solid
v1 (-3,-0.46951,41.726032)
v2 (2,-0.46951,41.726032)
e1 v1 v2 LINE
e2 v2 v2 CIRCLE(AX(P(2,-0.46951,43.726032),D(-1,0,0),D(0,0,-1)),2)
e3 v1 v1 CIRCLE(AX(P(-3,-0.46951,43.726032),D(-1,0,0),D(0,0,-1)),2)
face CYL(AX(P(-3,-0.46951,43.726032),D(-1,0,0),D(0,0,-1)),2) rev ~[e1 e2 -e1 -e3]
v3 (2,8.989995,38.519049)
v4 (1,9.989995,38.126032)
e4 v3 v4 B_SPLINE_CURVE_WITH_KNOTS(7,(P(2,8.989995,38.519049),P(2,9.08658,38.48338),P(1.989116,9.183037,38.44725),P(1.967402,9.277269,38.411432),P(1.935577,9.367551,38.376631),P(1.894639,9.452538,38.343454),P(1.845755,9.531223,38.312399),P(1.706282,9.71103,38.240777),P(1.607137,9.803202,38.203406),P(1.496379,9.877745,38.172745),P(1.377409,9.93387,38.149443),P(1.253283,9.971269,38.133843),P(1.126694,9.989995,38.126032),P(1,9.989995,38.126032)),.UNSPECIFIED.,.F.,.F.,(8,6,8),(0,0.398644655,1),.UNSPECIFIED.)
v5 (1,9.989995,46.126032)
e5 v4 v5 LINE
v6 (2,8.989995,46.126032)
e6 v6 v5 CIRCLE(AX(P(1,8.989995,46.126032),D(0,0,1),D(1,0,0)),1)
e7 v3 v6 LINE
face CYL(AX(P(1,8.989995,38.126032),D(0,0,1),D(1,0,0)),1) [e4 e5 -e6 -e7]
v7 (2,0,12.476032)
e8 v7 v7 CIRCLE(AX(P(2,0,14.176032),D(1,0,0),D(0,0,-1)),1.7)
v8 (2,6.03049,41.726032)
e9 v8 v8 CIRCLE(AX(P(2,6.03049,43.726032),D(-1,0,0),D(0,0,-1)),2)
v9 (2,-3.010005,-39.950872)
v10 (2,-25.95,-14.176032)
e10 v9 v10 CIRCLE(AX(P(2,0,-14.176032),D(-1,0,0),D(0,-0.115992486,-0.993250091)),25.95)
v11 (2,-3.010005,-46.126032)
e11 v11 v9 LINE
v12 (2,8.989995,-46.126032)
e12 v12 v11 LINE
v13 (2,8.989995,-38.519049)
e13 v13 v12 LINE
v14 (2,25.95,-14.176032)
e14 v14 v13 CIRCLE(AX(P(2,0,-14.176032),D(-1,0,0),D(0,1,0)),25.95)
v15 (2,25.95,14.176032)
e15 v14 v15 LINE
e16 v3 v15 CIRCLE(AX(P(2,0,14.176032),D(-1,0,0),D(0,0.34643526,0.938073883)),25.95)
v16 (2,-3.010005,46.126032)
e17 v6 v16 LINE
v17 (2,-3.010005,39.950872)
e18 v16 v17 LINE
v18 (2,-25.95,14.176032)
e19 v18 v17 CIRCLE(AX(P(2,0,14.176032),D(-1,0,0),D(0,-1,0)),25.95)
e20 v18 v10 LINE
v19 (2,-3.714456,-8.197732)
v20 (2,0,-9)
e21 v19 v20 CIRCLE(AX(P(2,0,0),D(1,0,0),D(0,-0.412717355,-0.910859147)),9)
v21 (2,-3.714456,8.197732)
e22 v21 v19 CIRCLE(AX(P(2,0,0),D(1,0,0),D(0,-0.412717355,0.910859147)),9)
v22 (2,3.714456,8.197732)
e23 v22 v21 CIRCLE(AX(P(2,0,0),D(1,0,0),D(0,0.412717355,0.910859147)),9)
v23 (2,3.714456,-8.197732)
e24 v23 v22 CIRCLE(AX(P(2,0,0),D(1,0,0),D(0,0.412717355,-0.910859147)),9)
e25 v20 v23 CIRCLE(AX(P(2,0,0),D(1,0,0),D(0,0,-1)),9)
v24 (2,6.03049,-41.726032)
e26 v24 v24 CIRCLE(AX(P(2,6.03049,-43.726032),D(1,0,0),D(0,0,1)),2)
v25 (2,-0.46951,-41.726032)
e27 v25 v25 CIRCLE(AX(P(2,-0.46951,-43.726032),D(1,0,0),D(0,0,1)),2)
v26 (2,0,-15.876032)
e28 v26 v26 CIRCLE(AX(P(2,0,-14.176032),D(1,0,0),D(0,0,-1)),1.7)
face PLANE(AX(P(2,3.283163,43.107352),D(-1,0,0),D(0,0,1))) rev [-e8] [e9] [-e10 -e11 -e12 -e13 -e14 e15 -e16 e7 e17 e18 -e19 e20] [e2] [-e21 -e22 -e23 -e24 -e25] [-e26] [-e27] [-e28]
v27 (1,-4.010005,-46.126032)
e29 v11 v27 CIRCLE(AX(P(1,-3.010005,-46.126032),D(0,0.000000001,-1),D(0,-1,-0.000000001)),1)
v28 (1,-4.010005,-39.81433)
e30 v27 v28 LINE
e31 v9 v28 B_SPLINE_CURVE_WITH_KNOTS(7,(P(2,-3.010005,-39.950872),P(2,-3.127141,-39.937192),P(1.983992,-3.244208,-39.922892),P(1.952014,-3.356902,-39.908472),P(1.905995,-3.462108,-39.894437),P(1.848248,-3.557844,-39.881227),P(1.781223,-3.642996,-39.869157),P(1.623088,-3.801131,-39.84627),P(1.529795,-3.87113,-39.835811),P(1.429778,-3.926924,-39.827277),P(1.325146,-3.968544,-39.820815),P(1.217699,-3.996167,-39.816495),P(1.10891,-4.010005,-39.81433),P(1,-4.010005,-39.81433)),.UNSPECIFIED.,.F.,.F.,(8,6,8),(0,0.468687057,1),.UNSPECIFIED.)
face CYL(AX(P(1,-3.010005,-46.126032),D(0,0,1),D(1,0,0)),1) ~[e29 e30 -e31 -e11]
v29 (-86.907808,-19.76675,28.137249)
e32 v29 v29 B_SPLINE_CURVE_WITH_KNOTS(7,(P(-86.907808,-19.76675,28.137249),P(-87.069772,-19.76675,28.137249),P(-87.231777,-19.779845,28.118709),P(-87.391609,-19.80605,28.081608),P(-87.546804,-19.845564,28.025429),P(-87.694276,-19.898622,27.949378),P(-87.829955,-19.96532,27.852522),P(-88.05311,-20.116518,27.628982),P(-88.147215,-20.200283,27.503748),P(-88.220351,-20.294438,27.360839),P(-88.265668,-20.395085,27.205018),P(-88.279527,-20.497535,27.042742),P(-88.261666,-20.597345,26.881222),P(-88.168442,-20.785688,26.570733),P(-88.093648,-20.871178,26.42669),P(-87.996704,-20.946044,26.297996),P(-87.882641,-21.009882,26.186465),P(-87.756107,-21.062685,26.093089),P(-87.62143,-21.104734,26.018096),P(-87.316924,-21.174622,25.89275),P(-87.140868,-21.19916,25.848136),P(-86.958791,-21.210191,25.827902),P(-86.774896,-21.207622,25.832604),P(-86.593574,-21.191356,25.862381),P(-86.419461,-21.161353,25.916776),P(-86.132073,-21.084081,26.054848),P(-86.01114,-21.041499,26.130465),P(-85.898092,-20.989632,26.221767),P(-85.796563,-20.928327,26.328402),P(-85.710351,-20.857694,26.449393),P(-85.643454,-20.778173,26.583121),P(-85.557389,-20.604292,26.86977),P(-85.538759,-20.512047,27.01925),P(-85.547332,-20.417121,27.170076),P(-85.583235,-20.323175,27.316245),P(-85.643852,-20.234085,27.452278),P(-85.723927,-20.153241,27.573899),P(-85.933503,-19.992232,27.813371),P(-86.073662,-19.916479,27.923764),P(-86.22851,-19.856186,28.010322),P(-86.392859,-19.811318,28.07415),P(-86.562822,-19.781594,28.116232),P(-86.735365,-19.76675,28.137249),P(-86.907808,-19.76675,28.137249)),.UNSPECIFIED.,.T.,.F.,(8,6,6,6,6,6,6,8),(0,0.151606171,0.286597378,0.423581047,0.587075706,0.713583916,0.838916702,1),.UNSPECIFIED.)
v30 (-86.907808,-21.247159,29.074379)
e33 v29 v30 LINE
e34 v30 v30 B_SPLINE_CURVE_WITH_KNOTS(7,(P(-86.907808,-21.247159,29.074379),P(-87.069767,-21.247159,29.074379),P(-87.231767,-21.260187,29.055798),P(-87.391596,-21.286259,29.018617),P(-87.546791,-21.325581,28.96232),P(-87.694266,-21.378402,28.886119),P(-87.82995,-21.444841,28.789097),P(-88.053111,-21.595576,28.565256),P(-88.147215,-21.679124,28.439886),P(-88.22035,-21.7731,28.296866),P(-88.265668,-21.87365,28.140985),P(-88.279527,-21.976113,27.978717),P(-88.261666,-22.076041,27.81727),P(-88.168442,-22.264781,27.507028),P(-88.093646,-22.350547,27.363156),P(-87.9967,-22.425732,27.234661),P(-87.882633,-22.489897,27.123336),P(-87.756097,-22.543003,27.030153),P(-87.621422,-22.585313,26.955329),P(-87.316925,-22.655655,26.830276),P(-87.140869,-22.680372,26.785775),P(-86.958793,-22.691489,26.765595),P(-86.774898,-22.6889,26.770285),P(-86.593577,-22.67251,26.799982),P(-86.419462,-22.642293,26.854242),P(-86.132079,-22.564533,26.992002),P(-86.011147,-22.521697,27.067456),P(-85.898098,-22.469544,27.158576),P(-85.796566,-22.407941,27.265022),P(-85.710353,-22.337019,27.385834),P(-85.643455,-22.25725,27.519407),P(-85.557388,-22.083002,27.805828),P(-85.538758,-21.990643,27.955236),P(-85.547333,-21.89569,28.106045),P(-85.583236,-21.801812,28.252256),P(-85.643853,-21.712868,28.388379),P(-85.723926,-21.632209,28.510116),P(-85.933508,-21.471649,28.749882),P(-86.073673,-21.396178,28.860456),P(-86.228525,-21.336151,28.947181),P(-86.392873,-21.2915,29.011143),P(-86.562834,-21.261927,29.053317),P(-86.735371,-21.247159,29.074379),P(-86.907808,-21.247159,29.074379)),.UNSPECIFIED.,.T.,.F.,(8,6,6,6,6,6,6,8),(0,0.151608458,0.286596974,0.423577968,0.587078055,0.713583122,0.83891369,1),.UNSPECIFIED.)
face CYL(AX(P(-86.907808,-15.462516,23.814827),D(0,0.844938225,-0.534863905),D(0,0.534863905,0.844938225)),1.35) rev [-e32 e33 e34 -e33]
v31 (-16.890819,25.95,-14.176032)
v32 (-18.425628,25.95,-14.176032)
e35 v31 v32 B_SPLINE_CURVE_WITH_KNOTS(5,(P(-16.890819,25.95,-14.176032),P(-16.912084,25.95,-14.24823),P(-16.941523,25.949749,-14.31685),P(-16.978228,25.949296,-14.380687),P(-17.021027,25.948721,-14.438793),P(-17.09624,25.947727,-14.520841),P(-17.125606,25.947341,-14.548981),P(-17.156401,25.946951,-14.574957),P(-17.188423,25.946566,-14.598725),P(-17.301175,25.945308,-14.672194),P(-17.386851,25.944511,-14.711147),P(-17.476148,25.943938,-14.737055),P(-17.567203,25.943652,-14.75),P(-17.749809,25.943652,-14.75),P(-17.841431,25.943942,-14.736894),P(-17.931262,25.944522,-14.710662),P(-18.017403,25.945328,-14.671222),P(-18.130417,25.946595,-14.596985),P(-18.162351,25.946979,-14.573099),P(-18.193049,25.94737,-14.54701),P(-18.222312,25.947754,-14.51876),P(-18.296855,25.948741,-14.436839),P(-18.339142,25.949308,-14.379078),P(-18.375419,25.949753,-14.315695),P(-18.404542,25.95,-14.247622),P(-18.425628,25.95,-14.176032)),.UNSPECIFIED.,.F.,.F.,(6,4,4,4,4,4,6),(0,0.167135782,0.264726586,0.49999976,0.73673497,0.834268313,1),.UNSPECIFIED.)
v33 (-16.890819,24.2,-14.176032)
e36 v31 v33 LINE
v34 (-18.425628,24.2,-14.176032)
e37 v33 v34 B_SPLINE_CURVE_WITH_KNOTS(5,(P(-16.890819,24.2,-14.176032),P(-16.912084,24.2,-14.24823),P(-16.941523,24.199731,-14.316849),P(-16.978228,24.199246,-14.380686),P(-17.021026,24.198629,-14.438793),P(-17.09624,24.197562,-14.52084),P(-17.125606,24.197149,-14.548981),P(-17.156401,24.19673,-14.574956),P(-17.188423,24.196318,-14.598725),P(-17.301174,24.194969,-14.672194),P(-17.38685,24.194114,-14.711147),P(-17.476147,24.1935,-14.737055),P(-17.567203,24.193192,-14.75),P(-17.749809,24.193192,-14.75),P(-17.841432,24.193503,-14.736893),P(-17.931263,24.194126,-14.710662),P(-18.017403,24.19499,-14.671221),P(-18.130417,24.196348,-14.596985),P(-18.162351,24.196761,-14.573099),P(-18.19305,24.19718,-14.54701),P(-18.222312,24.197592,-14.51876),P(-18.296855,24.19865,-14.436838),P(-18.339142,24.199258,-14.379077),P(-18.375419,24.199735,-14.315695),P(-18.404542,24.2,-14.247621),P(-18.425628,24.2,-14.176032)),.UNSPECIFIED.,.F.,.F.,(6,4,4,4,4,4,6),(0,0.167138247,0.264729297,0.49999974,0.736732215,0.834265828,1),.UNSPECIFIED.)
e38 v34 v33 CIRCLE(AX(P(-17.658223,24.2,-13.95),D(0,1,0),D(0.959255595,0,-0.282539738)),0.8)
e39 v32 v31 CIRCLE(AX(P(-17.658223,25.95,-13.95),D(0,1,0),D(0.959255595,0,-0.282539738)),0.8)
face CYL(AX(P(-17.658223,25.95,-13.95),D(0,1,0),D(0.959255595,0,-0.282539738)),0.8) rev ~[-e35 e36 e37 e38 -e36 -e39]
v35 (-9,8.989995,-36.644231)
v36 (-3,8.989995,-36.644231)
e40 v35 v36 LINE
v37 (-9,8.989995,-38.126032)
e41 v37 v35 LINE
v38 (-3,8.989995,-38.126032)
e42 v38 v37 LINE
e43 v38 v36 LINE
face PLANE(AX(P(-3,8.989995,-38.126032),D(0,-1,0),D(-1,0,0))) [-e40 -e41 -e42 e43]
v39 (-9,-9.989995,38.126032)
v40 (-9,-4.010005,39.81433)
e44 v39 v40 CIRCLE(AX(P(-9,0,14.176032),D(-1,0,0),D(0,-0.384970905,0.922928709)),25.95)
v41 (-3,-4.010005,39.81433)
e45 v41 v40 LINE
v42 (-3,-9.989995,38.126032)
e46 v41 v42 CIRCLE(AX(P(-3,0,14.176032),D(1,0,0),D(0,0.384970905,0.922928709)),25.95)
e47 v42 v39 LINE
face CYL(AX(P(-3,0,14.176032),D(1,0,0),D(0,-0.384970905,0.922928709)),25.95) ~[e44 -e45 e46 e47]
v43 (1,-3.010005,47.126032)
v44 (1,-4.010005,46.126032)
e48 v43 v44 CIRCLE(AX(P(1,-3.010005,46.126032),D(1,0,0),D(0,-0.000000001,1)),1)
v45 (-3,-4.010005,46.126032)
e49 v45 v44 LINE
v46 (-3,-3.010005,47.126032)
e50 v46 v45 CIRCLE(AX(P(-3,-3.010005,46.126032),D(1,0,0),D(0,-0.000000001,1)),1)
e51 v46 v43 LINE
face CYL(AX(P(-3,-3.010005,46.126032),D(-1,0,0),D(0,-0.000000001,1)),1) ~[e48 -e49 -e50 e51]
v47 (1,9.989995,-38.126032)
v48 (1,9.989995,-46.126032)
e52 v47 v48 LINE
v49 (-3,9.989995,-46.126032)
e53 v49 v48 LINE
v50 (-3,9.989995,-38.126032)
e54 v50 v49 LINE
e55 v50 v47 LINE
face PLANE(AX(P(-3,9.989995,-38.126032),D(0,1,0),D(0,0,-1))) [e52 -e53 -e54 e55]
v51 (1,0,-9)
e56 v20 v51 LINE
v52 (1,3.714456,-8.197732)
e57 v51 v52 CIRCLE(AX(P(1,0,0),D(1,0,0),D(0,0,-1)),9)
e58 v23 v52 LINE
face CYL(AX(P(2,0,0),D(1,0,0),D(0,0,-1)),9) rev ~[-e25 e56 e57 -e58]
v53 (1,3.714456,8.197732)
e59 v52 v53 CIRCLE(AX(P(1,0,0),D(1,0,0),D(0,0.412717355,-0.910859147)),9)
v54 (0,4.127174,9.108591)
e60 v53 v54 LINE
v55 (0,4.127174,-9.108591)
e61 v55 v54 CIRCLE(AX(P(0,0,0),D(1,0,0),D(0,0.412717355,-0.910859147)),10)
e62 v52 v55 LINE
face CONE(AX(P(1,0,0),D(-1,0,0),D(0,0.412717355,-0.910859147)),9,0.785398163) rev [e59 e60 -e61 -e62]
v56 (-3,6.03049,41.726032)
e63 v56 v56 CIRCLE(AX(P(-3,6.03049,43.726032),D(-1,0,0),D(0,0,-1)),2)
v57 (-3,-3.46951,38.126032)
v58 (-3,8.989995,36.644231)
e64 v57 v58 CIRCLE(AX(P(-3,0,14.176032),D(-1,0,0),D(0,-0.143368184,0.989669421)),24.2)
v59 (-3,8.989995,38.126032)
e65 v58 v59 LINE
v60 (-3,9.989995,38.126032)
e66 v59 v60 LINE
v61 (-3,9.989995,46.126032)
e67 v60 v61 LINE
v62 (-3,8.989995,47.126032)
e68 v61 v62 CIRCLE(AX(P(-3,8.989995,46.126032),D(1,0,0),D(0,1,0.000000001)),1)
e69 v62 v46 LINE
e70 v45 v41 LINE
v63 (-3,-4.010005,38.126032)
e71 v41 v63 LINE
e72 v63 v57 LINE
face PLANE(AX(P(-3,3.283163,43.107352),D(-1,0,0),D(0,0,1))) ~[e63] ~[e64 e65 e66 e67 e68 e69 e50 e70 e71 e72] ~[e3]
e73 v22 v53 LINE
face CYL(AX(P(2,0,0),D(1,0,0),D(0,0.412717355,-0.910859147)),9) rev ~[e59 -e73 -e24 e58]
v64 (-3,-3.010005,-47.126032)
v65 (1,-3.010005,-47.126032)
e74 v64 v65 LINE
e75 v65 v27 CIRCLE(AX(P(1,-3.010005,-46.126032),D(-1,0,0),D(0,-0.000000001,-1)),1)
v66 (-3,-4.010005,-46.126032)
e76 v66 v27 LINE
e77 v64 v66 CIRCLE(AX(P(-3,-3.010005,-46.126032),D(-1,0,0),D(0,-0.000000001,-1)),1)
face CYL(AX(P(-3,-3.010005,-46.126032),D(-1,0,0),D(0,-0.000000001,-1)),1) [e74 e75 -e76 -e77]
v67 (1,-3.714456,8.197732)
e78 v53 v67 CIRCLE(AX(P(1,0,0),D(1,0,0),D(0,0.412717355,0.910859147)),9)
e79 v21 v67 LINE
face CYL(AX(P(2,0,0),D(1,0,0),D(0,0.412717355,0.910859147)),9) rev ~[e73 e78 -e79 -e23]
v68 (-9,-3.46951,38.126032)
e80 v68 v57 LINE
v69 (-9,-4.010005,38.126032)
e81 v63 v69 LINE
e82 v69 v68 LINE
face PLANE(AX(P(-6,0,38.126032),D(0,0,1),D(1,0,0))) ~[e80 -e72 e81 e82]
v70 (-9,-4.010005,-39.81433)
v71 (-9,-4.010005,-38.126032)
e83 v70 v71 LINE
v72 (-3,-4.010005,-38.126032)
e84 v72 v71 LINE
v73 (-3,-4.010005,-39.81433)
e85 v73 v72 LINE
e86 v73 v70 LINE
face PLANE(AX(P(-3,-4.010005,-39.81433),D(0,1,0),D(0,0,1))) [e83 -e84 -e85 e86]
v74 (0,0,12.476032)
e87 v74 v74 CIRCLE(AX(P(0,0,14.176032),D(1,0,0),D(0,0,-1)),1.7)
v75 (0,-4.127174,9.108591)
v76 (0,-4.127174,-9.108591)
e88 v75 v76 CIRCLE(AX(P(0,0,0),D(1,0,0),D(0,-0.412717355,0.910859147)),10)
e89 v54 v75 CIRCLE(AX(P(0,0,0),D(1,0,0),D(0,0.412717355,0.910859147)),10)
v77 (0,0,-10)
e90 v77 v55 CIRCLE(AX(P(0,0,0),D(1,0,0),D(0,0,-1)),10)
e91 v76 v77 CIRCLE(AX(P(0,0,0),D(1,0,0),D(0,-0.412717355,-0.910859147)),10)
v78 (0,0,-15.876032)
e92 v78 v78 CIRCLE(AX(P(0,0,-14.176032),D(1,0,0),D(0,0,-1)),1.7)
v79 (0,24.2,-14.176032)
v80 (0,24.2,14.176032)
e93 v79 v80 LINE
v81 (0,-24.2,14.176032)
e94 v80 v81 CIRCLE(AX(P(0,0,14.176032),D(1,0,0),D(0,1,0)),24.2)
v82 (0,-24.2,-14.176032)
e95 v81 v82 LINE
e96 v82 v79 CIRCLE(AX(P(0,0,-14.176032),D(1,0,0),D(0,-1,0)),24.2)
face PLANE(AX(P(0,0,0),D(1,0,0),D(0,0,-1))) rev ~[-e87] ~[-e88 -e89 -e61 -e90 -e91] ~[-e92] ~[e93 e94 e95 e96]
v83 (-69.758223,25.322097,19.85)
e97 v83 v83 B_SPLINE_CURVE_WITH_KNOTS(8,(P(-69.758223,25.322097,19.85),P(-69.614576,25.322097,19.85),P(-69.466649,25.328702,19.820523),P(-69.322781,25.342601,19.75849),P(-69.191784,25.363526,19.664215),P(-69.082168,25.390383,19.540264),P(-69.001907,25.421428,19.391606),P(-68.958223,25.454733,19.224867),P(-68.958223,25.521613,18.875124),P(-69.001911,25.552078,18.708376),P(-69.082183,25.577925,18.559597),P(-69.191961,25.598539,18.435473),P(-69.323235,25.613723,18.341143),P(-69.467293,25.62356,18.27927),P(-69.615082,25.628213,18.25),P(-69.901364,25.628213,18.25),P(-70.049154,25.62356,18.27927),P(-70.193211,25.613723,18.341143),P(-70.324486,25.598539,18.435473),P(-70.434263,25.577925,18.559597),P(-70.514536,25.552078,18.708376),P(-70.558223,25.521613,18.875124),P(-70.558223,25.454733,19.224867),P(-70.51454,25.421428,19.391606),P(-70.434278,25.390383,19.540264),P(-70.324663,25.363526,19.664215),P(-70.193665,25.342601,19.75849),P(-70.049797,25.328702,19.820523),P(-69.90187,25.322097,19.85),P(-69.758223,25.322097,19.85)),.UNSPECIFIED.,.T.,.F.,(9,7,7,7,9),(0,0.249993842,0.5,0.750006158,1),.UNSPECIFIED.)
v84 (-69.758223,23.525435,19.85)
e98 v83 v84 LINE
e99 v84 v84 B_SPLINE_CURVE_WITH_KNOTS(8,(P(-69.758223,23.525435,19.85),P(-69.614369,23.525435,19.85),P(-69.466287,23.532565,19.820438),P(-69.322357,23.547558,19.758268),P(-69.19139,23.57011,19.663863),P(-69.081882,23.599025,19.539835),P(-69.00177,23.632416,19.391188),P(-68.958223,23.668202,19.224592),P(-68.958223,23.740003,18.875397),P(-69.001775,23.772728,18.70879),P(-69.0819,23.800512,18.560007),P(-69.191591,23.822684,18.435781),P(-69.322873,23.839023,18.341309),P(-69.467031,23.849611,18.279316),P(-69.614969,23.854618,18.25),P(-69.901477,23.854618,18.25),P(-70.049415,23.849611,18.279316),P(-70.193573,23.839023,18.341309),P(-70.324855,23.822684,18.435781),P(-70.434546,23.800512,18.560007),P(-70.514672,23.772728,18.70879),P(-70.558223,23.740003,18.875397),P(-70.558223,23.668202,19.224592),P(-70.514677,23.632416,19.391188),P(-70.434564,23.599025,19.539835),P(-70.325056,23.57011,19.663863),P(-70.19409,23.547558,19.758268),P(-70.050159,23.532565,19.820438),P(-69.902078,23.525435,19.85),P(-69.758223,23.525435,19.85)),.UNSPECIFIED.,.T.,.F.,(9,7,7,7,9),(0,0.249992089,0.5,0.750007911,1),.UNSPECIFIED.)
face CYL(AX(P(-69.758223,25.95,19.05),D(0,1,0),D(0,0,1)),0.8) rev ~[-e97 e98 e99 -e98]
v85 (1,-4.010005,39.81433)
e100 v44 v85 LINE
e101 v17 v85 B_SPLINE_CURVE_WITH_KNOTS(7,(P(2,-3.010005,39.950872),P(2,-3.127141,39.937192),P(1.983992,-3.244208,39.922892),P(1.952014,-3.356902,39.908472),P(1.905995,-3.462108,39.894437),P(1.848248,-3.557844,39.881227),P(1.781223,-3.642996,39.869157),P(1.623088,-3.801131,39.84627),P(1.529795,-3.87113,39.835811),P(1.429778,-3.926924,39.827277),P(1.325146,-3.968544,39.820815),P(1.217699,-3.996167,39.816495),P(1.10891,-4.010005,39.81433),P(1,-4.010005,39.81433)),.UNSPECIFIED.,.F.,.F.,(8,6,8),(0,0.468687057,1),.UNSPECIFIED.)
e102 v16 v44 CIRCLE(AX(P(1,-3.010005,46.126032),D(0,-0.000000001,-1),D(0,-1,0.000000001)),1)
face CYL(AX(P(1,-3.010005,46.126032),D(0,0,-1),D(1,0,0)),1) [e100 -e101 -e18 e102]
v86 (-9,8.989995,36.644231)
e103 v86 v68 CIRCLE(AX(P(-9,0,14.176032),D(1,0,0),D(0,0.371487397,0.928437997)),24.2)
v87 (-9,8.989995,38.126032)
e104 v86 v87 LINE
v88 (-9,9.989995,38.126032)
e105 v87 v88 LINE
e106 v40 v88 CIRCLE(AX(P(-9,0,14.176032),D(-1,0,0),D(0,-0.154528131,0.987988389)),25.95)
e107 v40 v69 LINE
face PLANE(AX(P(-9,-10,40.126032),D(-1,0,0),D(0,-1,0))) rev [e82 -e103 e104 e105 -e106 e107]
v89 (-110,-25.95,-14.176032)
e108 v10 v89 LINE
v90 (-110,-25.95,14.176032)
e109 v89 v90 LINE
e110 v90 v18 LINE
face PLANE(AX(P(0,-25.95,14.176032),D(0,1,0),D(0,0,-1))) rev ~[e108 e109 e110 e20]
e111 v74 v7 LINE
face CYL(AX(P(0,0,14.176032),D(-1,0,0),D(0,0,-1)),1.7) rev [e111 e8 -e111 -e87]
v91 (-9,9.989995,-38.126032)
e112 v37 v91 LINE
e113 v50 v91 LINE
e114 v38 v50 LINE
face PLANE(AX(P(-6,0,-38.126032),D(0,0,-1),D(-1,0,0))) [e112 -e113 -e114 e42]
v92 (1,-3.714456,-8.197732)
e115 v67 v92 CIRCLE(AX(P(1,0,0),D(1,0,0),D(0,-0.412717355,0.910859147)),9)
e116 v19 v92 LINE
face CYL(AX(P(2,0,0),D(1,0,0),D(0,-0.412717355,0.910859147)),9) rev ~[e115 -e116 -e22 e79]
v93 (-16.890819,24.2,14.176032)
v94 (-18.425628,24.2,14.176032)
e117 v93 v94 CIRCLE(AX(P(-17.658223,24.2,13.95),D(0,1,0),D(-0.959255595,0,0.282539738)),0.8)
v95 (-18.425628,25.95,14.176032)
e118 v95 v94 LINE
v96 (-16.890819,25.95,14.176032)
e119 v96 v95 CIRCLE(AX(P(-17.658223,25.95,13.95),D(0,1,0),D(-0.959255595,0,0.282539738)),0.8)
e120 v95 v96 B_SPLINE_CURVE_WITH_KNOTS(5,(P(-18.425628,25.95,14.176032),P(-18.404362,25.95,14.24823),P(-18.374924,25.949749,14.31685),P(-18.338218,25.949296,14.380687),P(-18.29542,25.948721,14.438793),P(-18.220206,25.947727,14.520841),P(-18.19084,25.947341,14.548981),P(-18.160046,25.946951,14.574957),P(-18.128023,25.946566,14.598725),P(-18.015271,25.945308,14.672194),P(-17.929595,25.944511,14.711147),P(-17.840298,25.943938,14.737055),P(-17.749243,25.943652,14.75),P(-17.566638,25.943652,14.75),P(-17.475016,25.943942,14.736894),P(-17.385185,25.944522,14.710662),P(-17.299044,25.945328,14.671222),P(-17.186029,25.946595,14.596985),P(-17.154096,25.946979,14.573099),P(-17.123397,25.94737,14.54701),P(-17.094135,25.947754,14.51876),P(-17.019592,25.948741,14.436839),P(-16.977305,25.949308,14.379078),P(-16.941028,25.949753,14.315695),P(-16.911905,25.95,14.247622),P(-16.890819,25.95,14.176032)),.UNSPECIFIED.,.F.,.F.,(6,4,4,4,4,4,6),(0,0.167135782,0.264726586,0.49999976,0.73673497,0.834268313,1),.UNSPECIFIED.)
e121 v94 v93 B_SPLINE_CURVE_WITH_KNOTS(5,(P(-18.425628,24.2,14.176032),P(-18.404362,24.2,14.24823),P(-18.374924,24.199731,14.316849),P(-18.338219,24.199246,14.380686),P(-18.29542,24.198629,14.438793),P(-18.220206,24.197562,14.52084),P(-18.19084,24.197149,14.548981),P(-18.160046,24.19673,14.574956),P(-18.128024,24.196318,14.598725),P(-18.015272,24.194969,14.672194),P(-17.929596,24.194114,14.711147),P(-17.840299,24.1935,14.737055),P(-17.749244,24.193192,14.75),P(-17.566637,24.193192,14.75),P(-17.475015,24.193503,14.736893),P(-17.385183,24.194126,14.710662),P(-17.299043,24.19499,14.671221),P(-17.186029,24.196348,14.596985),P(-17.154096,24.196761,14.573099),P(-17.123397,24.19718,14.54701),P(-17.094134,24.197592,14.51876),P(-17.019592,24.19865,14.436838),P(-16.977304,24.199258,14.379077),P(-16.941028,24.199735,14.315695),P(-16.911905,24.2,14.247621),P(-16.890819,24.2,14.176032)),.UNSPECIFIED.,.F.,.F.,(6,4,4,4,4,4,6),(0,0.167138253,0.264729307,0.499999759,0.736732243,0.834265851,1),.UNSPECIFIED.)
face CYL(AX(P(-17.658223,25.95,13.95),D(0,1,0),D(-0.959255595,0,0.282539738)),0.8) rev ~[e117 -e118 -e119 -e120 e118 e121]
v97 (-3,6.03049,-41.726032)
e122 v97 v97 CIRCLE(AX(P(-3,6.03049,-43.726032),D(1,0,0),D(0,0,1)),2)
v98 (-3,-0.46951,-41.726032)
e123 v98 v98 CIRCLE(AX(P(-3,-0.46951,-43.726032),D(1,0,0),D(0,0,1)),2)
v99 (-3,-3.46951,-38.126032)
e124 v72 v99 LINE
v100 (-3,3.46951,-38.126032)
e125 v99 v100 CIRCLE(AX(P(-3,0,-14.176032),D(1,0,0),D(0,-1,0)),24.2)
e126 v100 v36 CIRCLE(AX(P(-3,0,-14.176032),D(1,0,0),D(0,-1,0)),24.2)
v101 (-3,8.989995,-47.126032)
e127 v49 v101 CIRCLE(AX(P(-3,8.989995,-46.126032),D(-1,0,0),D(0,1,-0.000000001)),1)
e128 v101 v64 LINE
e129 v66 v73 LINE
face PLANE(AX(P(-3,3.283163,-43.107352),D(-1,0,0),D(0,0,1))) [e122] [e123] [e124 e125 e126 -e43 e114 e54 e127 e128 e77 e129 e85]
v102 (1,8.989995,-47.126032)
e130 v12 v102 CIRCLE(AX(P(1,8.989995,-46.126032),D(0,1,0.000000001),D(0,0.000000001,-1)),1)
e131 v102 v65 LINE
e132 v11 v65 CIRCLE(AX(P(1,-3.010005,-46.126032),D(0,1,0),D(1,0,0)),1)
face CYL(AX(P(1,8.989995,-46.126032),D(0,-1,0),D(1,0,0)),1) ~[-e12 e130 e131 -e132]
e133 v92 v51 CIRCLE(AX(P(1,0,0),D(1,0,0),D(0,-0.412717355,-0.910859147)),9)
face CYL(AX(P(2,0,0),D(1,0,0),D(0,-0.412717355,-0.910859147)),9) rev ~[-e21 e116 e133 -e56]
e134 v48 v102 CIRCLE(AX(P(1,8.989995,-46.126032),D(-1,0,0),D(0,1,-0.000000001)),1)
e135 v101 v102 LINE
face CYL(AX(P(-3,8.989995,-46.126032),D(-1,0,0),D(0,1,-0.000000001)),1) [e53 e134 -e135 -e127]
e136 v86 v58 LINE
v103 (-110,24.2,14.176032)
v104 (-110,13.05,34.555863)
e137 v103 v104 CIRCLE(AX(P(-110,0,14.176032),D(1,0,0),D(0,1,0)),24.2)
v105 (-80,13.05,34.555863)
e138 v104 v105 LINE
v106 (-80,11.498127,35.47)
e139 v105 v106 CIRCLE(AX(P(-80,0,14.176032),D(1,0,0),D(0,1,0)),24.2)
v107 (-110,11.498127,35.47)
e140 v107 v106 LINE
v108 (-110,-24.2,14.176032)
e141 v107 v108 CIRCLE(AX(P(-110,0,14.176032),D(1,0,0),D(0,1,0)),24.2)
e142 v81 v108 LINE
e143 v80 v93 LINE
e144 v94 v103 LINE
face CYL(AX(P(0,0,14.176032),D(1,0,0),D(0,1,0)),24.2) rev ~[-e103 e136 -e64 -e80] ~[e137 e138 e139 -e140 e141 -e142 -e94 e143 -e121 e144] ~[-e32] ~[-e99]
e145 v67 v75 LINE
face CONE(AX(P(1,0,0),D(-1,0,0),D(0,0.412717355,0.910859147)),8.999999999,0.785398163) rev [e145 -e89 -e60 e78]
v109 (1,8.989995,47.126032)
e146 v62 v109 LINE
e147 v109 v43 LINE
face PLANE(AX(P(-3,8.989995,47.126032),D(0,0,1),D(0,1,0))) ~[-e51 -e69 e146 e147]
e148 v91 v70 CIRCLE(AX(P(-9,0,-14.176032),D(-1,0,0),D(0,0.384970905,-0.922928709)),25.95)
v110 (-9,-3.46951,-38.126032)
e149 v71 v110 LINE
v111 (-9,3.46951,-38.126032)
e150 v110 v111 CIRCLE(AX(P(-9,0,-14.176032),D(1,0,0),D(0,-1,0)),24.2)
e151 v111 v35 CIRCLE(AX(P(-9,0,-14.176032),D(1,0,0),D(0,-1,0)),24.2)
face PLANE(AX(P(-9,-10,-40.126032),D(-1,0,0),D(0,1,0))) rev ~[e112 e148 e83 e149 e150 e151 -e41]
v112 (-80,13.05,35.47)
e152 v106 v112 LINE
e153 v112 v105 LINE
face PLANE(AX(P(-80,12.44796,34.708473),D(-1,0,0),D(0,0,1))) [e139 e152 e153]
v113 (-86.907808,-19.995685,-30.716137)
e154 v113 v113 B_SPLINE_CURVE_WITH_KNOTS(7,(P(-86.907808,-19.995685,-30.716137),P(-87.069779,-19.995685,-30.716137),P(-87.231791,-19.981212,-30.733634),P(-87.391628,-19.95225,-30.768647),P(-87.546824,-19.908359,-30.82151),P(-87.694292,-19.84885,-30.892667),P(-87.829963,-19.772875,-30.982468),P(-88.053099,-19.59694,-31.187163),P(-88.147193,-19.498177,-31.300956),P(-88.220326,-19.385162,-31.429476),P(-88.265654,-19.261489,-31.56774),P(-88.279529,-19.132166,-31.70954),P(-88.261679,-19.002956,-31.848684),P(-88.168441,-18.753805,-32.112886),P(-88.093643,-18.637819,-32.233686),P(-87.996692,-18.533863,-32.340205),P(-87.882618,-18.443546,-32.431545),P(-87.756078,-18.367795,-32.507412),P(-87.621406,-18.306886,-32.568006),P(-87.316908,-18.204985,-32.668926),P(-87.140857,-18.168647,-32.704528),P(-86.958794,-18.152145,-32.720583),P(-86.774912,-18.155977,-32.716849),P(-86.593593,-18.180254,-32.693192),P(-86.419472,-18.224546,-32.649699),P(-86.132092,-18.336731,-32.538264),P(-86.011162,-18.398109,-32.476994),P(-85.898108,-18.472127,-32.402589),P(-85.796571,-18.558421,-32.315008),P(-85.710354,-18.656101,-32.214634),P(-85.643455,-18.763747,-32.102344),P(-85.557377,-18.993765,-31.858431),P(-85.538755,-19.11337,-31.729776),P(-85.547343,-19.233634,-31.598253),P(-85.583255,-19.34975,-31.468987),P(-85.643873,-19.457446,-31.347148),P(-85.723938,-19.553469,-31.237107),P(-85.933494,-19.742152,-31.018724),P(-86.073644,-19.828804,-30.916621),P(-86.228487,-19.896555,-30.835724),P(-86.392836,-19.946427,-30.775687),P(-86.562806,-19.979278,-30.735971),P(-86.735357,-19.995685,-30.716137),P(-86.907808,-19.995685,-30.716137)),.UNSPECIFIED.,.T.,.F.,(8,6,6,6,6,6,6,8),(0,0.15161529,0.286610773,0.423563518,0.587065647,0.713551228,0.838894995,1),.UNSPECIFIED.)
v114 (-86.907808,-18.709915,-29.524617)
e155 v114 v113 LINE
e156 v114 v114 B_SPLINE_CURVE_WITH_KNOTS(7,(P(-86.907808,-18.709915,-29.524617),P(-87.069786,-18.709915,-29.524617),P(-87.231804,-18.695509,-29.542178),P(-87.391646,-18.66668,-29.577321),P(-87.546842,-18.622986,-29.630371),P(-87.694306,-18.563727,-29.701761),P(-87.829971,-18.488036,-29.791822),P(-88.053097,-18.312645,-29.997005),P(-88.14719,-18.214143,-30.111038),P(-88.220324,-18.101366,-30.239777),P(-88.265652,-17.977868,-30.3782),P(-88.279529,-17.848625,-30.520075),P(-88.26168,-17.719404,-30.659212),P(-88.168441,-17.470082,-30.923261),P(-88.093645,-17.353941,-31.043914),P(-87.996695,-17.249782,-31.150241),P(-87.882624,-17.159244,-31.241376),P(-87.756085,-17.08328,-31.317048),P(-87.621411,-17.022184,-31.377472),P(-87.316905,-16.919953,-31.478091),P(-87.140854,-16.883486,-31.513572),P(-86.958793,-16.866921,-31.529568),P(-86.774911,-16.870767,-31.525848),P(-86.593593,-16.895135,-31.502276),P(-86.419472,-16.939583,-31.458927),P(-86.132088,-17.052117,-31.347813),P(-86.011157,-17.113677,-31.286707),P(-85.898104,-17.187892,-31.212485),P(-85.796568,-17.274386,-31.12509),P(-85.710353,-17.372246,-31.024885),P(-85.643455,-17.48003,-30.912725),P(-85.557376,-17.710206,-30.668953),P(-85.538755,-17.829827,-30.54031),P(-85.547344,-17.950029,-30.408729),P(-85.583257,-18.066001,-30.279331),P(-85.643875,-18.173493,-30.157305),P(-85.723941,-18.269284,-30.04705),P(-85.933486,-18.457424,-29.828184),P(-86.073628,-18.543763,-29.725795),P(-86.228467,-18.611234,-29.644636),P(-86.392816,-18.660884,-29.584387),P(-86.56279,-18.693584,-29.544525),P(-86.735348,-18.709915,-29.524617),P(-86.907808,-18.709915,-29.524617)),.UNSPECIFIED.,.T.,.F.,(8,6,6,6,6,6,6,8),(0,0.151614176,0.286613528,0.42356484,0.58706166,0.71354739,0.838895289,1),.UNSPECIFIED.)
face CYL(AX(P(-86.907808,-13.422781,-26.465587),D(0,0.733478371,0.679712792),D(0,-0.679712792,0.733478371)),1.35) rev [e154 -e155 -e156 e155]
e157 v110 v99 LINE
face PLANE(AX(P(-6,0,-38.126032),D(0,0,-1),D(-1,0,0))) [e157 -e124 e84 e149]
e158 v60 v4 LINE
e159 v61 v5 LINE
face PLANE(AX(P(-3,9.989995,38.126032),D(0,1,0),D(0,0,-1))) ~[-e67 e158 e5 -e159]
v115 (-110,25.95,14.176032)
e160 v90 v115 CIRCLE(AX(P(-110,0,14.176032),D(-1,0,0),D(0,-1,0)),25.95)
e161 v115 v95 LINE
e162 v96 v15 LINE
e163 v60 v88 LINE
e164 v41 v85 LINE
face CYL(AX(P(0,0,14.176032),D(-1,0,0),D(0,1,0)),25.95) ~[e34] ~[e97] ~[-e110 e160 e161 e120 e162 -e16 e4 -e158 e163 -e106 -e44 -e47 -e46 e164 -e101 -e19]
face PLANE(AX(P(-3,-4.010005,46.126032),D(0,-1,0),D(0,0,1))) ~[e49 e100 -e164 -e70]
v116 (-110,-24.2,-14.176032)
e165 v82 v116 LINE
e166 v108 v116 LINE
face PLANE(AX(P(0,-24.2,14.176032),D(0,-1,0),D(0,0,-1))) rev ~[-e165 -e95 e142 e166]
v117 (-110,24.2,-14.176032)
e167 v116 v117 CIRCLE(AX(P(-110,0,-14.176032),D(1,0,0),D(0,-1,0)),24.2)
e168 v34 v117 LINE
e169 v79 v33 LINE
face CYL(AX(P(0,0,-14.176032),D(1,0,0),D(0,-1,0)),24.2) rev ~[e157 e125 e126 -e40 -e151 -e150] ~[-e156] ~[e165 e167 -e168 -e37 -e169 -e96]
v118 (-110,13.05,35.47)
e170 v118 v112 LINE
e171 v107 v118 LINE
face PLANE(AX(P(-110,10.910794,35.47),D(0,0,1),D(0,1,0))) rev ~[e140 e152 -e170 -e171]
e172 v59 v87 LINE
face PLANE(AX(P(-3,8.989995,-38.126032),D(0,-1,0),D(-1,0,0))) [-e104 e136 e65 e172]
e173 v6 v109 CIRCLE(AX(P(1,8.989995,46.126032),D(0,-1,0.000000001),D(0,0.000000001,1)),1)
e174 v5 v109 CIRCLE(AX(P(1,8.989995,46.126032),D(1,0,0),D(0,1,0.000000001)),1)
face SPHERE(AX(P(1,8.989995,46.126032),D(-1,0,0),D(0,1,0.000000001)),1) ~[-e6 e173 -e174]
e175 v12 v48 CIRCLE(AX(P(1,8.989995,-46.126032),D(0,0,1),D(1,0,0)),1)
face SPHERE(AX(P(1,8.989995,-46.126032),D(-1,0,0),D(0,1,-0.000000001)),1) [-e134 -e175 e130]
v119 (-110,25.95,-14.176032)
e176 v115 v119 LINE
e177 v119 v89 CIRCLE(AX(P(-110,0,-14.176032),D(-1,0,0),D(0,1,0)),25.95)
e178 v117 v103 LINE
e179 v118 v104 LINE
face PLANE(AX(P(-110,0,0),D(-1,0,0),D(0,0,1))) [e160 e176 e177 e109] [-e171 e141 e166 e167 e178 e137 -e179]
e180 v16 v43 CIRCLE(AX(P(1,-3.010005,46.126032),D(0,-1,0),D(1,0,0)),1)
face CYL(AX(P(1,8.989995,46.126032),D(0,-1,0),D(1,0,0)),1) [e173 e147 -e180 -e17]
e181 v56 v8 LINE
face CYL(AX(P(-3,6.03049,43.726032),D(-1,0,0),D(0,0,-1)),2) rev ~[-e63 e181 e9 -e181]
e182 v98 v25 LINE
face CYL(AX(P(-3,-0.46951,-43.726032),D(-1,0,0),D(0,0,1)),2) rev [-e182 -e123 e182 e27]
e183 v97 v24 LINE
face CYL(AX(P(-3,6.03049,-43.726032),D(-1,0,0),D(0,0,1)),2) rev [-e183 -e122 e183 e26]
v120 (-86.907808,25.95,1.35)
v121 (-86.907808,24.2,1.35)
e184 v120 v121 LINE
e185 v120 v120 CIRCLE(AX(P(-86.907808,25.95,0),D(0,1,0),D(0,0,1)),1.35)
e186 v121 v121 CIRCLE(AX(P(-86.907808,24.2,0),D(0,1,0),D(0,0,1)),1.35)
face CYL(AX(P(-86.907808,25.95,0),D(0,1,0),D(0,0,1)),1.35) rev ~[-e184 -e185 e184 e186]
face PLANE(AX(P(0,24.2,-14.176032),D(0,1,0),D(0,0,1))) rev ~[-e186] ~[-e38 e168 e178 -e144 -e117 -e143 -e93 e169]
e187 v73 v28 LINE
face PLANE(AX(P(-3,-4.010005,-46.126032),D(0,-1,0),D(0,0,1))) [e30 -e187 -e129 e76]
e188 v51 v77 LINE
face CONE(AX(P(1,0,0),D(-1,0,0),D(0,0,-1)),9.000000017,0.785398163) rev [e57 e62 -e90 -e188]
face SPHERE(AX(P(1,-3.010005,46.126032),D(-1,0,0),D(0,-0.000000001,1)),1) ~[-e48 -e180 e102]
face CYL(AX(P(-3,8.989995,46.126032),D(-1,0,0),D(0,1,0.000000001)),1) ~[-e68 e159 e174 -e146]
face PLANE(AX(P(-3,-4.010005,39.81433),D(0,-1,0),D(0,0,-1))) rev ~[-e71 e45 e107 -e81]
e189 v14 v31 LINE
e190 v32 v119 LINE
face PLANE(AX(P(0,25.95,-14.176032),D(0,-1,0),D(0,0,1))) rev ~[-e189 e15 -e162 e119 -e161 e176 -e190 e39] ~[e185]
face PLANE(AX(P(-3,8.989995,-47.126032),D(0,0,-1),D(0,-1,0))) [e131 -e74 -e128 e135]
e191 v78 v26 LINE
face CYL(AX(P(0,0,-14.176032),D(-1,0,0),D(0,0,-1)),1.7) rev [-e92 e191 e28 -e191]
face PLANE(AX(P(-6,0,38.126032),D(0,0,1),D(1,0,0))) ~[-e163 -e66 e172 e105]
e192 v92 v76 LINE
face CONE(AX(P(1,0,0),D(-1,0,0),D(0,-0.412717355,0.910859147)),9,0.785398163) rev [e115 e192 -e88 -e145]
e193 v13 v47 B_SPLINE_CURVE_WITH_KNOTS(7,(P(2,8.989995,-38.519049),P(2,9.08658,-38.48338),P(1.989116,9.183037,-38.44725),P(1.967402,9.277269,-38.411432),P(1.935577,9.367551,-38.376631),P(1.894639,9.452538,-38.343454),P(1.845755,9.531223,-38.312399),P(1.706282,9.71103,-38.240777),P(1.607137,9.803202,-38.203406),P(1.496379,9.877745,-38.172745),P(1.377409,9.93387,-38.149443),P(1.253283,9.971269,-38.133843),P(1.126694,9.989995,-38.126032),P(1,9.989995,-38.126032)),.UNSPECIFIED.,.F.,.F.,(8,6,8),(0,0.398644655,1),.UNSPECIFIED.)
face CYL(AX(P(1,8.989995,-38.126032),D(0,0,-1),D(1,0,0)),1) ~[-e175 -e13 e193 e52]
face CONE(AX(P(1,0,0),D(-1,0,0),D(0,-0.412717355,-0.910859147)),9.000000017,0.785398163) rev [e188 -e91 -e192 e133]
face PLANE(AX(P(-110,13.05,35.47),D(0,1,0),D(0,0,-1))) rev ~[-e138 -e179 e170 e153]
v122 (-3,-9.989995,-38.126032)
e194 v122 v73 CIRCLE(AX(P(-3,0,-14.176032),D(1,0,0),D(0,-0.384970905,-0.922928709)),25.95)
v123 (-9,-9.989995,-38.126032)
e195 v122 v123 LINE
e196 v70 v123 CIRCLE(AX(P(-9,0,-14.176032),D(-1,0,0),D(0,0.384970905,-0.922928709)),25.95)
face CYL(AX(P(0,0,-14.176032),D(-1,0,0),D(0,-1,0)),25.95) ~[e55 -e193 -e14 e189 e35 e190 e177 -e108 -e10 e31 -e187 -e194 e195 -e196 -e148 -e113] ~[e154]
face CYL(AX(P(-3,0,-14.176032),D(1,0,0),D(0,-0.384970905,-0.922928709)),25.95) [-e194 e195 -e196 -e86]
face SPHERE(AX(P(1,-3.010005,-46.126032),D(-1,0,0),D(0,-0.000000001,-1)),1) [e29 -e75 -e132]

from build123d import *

# Parameters (mm, degrees)
BOSS_EXTRUDE1_DEPTH  = 110
SKETCH5_R            = 1.7
BOSS_EXTRUDE2_DEPTH  = 2
CUT_EXTRUDE2_DEPTH   = 122.768226263
SKETCH7_R            = 1.35
CUT_EXTRUDE3_DEPTH   = 10
SKETCH8_R            = 1.35
CUT_EXTRUDE4_DEPTH   = 18
SKETCH9_R            = 1.35
CUT_EXTRUDE5_DEPTH   = 20
CHAMFER3_SIZE        = 1
CUT_EXTRUDE6_DEPTH   = 30
SKETCH17_R           = 0.8
CUT_EXTRUDE11_DEPTH  = 10
SKETCH19_W           = 6
SKETCH19_H           = 20
CUT_EXTRUDE12_DEPTH  = 2
BOSS_EXTRUDE3_DEPTH  = 5
FILLET1_R            = 1
FILLET1_OF_MIRROR2_R = 1
BOSS_EXTRUDE4_DEPTH  = 6
SKETCH22_W           = 6
SKETCH22_H           = 5.520484943
CUT_EXTRUDE13_DEPTH  = 142.567358074


with BuildPart() as part:
    # Sketch1 → Boss-Extrude1 (new body)
    with BuildSketch(Plane(origin=(0, 0, 0), x_dir=(0, 0, -1), z_dir=(1, 0, 0))):
        with BuildLine():
            Line((-14.176031791, 25.95), (14.176031791, 25.95))
            ThreePointArc((14.176031791, 25.95), (40.126031791, 0), (14.176031791, -25.95))
            Line((14.176031791, -25.95), (-14.176031791, -25.95))
            ThreePointArc((-14.176031791, -25.95), (-40.126031791, 0), (-14.176031791, 25.95))
        make_face()
        with BuildLine():
            ThreePointArc((14.176031791, -24.2), (38.376031791, 0), (14.176031791, 24.2))
            Line((14.176031791, 24.2), (-14.176031791, 24.2))
            ThreePointArc((-14.176031791, 24.2), (-38.376031791, 0), (-14.176031791, -24.2))
            Line((-14.176031791, -24.2), (14.176031791, -24.2))
        make_face(mode=Mode.SUBTRACT)
    extrude(amount=-BOSS_EXTRUDE1_DEPTH)

    # Sketch5 → Boss-Extrude2 (add)
    with BuildSketch(Plane(origin=(0, 0, 0), x_dir=(0, 0, -1), z_dir=(1, 0, 0))):
        with BuildLine():
            Line((14.176031791, 25.95), (-14.176031791, 25.95))
            ThreePointArc((-14.176031791, 25.95), (-40.126031791, 0), (-14.176031791, -25.95))
            Line((-14.176031791, -25.95), (14.176031791, -25.95))
            ThreePointArc((14.176031791, -25.95), (40.126031791, 0), (14.176031791, 25.95))
        make_face()
        with Locations((-14.176031791, 0)):
            Circle(SKETCH5_R, mode=Mode.SUBTRACT)
        with Locations((14.176031791, 0)):
            Circle(SKETCH5_R, mode=Mode.SUBTRACT)
    extrude(amount=BOSS_EXTRUDE2_DEPTH)

    # Sketch6 → Cut-Extrude2 (cut, through all)
    with BuildSketch(Plane(origin=(2, 0, 0), x_dir=(0, 0, -1), z_dir=(1, 0, 0))):
        with BuildLine():
            Line((8.197732319, -3.714456195), (-8.197732319, -3.714456195))
            ThreePointArc((-8.197732319, -3.714456195), (0, -9), (8.197732319, -3.714456195))
        make_face()
        with BuildLine():
            ThreePointArc((-8.197732319, 3.714456195), (-9, 0), (-8.197732319, -3.714456195))
            Line((-8.197732319, -3.714456195), (8.197732319, -3.714456195))
            ThreePointArc((8.197732319, -3.714456195), (8.797147005, -1.900053832), (9, 0))
            ThreePointArc((9, 0), (8.797147005, 1.900053832), (8.197732319, 3.714456195))
            Line((8.197732319, 3.714456195), (-8.197732319, 3.714456195))
        make_face()
        with BuildLine():
            ThreePointArc((8.197732319, 3.714456195), (0, 9), (-8.197732319, 3.714456195))
            Line((-8.197732319, 3.714456195), (8.197732319, 3.714456195))
        make_face()
    extrude(amount=-CUT_EXTRUDE2_DEPTH, mode=Mode.SUBTRACT)

    # Sketch7 → Cut-Extrude3 (cut)
    with BuildSketch(Plane(origin=(0, 25.95, 0), x_dir=(1, 0, 0), z_dir=(0, 1, 0))):
        with Locations(Location((-86.907808055, 0, 0), (0, 0, 270))):
            Circle(SKETCH7_R)
    extrude(amount=-CUT_EXTRUDE3_DEPTH, mode=Mode.SUBTRACT)

    # Sketch8 → Cut-Extrude4 (cut)
    with BuildSketch(Plane(origin=(-81.2, -21.801570971, 13.800859089), x_dir=(0, -0.5348639046580952, -0.8449382246613631), z_dir=(0, -0.8449382246613631, 0.5348639046580952))):
        with Locations(Location((-11.851715909, -5.707808055, 0), (0, 0, 180))):
            Circle(SKETCH8_R)
    extrude(amount=CUT_EXTRUDE4_DEPTH, mode=Mode.SUBTRACT)

    # Sketch9 → Cut-Extrude5 (cut)
    with BuildSketch(Plane(origin=(-81.2, -20.415869871, -18.919341673), x_dir=(0, 0.6797127918842137, -0.7334783708801288), z_dir=(0, -0.7334783708801288, -0.6797127918842137))):
        with Locations(Location((10.288299219, -5.707808055, 0), (0, 0, 180))):
            Circle(SKETCH9_R)
    extrude(amount=CUT_EXTRUDE5_DEPTH, mode=Mode.SUBTRACT)

    # Chamfer3
    chamfer3_edges = [part.edges().sort_by_distance(p)[0] for p in [
        (0, -3.714456195, 8.197732319),
    ]]
    chamfer(chamfer3_edges, length=CHAMFER3_SIZE)

    # Sketch11 → Cut-Extrude6 (cut)
    with BuildSketch(Plane.ZY.offset(110)):
        with BuildLine():
            Line((34.47, 13.05), (34.47, 12.05))
            Line((34.47, 12.05), (35.16263466, 12.05))
            ThreePointArc((35.16263466, 12.05), (34.865291248, 12.553666521), (34.555862506, 13.05))
            Line((34.555862506, 13.05), (34.47, 13.05))
        make_face()
        with BuildLine():
            ThreePointArc((34.555862506, 13.05), (34.865291248, 12.553666521), (35.16263466, 12.05))
            Line((35.16263466, 12.05), (35.47, 12.05))
            Line((35.47, 12.05), (35.47, 13.05))
            Line((35.47, 13.05), (34.555862506, 13.05))
        make_face()
        with BuildLine():
            Line((35.47, 12.05), (35.16263466, 12.05))
            ThreePointArc((35.16263466, 12.05), (35.318118105, 11.775066296), (35.47, 11.498126712))
            Line((35.47, 11.498126712), (35.47, 12.05))
        make_face()
        with BuildLine():
            Line((35.16263466, 12.05), (34.47, 12.05))
            Line((34.47, 12.05), (34.47, 10.910793812))
            Line((34.47, 10.910793812), (35.47, 10.910793812))
            Line((35.47, 10.910793812), (35.47, 11.498126712))
            ThreePointArc((35.47, 11.498126712), (35.318118105, 11.775066296), (35.16263466, 12.05))
        make_face()
    extrude(amount=-CUT_EXTRUDE6_DEPTH, mode=Mode.SUBTRACT)

    # Sketch17 → Cut-Extrude11 (cut)
    with BuildSketch(Plane(origin=(0, 25.95, 0), x_dir=(1, 0, 0), z_dir=(0, 1, 0))):
        with Locations(Location((-17.658223223, 13.95, 0), (0, 0, 16.411842871))):
            Circle(SKETCH17_R)
        with Locations(Location((-17.658223223, -13.95, 0), (0, 0, 196.411842871))):
            Circle(SKETCH17_R)
        with Locations(Location((-69.758223223, -19.05, 0), (0, 0, 270))):
            Circle(SKETCH17_R)
    extrude(amount=-CUT_EXTRUDE11_DEPTH, mode=Mode.SUBTRACT)

    # Sketch19 → Cut-Extrude12 (cut)
    with BuildSketch(Plane(origin=(0, 0, -40.126031791), x_dir=(-1, 0, 0), z_dir=(0, 0, -1))):
        with Locations((6, 0)):
            Rectangle(SKETCH19_W, SKETCH19_H)
    cut_extrude12 = extrude(amount=-CUT_EXTRUDE12_DEPTH, mode=Mode.SUBTRACT)

    # Mirror1: Cut-Extrude12 across plane
    add(cut_extrude12.mirror(Plane.XY), mode=Mode.SUBTRACT)

    # Sketch20 → Boss-Extrude3 (add)
    with BuildSketch(Plane.ZY.offset(3)):
        with BuildLine():
            Line((-46.126031791, -4.010005005), (-39.814330483, -4.010005005))
            ThreePointArc((-39.814330483, -4.010005005), (-39.939374777, 3.106872735), (-38.126031791, 9.989994995))
            Line((-38.126031791, 9.989994995), (-46.126031791, 9.989994995))
            ThreePointArc((-46.126031791, 9.989994995), (-46.833138572, 9.697101776), (-47.126031791, 8.989994995))
            Line((-47.126031791, 8.989994995), (-47.126031791, -3.010005005))
            ThreePointArc((-47.126031791, -3.010005005), (-46.833138572, -3.717111786), (-46.126031791, -4.010005005))
        make_face()
        with BuildLine():
            ThreePointArc((-45.726031791, -0.469510052), (-43.726031791, 1.530489948), (-41.726031791, -0.469510052))
            ThreePointArc((-41.726031791, -0.469510052), (-43.726031791, -2.469510052), (-45.726031791, -0.469510052))
        make_face(mode=Mode.SUBTRACT)
        with BuildLine():
            ThreePointArc((-45.726031791, 6.030489948), (-43.726031791, 8.030489948), (-41.726031791, 6.030489948))
            ThreePointArc((-41.726031791, 6.030489948), (-43.726031791, 4.030489948), (-45.726031791, 6.030489948))
        make_face(mode=Mode.SUBTRACT)
    boss_extrude3 = extrude(amount=-BOSS_EXTRUDE3_DEPTH)

    # Fillet1
    fillet1_edges = [part.edges().sort_by_distance(p)[0] for p in [
        (2, 9.989994995, -42.126031791),
        (2, -3.717111786, -46.833138572),
        (2, 9.697101776, -46.833138572),
        (2, -4.010005005, -42.970181137),
        (2, 2.989994995, -47.126031791),
    ]]
    fillet(fillet1_edges, radius=FILLET1_R)

    # Mirror2: Boss-Extrude3 across plane
    add(boss_extrude3.mirror(Plane.XY))

    # Fillet1 of Mirror2
    fillet1_of_mirror2_edges = [part.edges().sort_by_distance(p)[0] for p in [
        (2, 9.989994995, 42.126031791),
        (2, -3.717111786, 46.833138572),
        (2, 9.697101776, 46.833138572),
        (2, -4.010005005, 42.970181137),
        (2, 2.989994995, 47.126031791),
    ]]
    fillet(fillet1_of_mirror2_edges, radius=FILLET1_OF_MIRROR2_R)

    # Sketch21 → Boss-Extrude4 (add)
    with BuildSketch(Plane.ZY.offset(3)):
        with BuildLine():
            Line((-39.814330483, -4.010005005), (-38.126031791, -4.010005005))
            Line((-38.126031791, -4.010005005), (-38.126031791, -9.989994995))
            ThreePointArc((-38.126031791, -9.989994995), (-39.149816283, -7.050715433), (-39.814330483, -4.010005005))
        make_face()
        with BuildLine():
            Line((38.126031791, -4.010005005), (38.126031791, -9.989994995))
            ThreePointArc((38.126031791, -9.989994995), (39.149816283, -7.050715433), (39.814330483, -4.010005005))
            Line((39.814330483, -4.010005005), (38.126031791, -4.010005005))
        make_face()
    extrude(amount=BOSS_EXTRUDE4_DEPTH)

    # Sketch22 → Cut-Extrude13 (cut, through all)
    with BuildSketch(Plane(origin=(0, 0, -38.126031791), x_dir=(-1, 0, 0), z_dir=(0, 0, -1))):
        with Locations((6, 6.229752524)):
            Rectangle(SKETCH22_W, SKETCH22_H)
    extrude(amount=-CUT_EXTRUDE13_DEPTH, mode=Mode.SUBTRACT)


solid = part.part
